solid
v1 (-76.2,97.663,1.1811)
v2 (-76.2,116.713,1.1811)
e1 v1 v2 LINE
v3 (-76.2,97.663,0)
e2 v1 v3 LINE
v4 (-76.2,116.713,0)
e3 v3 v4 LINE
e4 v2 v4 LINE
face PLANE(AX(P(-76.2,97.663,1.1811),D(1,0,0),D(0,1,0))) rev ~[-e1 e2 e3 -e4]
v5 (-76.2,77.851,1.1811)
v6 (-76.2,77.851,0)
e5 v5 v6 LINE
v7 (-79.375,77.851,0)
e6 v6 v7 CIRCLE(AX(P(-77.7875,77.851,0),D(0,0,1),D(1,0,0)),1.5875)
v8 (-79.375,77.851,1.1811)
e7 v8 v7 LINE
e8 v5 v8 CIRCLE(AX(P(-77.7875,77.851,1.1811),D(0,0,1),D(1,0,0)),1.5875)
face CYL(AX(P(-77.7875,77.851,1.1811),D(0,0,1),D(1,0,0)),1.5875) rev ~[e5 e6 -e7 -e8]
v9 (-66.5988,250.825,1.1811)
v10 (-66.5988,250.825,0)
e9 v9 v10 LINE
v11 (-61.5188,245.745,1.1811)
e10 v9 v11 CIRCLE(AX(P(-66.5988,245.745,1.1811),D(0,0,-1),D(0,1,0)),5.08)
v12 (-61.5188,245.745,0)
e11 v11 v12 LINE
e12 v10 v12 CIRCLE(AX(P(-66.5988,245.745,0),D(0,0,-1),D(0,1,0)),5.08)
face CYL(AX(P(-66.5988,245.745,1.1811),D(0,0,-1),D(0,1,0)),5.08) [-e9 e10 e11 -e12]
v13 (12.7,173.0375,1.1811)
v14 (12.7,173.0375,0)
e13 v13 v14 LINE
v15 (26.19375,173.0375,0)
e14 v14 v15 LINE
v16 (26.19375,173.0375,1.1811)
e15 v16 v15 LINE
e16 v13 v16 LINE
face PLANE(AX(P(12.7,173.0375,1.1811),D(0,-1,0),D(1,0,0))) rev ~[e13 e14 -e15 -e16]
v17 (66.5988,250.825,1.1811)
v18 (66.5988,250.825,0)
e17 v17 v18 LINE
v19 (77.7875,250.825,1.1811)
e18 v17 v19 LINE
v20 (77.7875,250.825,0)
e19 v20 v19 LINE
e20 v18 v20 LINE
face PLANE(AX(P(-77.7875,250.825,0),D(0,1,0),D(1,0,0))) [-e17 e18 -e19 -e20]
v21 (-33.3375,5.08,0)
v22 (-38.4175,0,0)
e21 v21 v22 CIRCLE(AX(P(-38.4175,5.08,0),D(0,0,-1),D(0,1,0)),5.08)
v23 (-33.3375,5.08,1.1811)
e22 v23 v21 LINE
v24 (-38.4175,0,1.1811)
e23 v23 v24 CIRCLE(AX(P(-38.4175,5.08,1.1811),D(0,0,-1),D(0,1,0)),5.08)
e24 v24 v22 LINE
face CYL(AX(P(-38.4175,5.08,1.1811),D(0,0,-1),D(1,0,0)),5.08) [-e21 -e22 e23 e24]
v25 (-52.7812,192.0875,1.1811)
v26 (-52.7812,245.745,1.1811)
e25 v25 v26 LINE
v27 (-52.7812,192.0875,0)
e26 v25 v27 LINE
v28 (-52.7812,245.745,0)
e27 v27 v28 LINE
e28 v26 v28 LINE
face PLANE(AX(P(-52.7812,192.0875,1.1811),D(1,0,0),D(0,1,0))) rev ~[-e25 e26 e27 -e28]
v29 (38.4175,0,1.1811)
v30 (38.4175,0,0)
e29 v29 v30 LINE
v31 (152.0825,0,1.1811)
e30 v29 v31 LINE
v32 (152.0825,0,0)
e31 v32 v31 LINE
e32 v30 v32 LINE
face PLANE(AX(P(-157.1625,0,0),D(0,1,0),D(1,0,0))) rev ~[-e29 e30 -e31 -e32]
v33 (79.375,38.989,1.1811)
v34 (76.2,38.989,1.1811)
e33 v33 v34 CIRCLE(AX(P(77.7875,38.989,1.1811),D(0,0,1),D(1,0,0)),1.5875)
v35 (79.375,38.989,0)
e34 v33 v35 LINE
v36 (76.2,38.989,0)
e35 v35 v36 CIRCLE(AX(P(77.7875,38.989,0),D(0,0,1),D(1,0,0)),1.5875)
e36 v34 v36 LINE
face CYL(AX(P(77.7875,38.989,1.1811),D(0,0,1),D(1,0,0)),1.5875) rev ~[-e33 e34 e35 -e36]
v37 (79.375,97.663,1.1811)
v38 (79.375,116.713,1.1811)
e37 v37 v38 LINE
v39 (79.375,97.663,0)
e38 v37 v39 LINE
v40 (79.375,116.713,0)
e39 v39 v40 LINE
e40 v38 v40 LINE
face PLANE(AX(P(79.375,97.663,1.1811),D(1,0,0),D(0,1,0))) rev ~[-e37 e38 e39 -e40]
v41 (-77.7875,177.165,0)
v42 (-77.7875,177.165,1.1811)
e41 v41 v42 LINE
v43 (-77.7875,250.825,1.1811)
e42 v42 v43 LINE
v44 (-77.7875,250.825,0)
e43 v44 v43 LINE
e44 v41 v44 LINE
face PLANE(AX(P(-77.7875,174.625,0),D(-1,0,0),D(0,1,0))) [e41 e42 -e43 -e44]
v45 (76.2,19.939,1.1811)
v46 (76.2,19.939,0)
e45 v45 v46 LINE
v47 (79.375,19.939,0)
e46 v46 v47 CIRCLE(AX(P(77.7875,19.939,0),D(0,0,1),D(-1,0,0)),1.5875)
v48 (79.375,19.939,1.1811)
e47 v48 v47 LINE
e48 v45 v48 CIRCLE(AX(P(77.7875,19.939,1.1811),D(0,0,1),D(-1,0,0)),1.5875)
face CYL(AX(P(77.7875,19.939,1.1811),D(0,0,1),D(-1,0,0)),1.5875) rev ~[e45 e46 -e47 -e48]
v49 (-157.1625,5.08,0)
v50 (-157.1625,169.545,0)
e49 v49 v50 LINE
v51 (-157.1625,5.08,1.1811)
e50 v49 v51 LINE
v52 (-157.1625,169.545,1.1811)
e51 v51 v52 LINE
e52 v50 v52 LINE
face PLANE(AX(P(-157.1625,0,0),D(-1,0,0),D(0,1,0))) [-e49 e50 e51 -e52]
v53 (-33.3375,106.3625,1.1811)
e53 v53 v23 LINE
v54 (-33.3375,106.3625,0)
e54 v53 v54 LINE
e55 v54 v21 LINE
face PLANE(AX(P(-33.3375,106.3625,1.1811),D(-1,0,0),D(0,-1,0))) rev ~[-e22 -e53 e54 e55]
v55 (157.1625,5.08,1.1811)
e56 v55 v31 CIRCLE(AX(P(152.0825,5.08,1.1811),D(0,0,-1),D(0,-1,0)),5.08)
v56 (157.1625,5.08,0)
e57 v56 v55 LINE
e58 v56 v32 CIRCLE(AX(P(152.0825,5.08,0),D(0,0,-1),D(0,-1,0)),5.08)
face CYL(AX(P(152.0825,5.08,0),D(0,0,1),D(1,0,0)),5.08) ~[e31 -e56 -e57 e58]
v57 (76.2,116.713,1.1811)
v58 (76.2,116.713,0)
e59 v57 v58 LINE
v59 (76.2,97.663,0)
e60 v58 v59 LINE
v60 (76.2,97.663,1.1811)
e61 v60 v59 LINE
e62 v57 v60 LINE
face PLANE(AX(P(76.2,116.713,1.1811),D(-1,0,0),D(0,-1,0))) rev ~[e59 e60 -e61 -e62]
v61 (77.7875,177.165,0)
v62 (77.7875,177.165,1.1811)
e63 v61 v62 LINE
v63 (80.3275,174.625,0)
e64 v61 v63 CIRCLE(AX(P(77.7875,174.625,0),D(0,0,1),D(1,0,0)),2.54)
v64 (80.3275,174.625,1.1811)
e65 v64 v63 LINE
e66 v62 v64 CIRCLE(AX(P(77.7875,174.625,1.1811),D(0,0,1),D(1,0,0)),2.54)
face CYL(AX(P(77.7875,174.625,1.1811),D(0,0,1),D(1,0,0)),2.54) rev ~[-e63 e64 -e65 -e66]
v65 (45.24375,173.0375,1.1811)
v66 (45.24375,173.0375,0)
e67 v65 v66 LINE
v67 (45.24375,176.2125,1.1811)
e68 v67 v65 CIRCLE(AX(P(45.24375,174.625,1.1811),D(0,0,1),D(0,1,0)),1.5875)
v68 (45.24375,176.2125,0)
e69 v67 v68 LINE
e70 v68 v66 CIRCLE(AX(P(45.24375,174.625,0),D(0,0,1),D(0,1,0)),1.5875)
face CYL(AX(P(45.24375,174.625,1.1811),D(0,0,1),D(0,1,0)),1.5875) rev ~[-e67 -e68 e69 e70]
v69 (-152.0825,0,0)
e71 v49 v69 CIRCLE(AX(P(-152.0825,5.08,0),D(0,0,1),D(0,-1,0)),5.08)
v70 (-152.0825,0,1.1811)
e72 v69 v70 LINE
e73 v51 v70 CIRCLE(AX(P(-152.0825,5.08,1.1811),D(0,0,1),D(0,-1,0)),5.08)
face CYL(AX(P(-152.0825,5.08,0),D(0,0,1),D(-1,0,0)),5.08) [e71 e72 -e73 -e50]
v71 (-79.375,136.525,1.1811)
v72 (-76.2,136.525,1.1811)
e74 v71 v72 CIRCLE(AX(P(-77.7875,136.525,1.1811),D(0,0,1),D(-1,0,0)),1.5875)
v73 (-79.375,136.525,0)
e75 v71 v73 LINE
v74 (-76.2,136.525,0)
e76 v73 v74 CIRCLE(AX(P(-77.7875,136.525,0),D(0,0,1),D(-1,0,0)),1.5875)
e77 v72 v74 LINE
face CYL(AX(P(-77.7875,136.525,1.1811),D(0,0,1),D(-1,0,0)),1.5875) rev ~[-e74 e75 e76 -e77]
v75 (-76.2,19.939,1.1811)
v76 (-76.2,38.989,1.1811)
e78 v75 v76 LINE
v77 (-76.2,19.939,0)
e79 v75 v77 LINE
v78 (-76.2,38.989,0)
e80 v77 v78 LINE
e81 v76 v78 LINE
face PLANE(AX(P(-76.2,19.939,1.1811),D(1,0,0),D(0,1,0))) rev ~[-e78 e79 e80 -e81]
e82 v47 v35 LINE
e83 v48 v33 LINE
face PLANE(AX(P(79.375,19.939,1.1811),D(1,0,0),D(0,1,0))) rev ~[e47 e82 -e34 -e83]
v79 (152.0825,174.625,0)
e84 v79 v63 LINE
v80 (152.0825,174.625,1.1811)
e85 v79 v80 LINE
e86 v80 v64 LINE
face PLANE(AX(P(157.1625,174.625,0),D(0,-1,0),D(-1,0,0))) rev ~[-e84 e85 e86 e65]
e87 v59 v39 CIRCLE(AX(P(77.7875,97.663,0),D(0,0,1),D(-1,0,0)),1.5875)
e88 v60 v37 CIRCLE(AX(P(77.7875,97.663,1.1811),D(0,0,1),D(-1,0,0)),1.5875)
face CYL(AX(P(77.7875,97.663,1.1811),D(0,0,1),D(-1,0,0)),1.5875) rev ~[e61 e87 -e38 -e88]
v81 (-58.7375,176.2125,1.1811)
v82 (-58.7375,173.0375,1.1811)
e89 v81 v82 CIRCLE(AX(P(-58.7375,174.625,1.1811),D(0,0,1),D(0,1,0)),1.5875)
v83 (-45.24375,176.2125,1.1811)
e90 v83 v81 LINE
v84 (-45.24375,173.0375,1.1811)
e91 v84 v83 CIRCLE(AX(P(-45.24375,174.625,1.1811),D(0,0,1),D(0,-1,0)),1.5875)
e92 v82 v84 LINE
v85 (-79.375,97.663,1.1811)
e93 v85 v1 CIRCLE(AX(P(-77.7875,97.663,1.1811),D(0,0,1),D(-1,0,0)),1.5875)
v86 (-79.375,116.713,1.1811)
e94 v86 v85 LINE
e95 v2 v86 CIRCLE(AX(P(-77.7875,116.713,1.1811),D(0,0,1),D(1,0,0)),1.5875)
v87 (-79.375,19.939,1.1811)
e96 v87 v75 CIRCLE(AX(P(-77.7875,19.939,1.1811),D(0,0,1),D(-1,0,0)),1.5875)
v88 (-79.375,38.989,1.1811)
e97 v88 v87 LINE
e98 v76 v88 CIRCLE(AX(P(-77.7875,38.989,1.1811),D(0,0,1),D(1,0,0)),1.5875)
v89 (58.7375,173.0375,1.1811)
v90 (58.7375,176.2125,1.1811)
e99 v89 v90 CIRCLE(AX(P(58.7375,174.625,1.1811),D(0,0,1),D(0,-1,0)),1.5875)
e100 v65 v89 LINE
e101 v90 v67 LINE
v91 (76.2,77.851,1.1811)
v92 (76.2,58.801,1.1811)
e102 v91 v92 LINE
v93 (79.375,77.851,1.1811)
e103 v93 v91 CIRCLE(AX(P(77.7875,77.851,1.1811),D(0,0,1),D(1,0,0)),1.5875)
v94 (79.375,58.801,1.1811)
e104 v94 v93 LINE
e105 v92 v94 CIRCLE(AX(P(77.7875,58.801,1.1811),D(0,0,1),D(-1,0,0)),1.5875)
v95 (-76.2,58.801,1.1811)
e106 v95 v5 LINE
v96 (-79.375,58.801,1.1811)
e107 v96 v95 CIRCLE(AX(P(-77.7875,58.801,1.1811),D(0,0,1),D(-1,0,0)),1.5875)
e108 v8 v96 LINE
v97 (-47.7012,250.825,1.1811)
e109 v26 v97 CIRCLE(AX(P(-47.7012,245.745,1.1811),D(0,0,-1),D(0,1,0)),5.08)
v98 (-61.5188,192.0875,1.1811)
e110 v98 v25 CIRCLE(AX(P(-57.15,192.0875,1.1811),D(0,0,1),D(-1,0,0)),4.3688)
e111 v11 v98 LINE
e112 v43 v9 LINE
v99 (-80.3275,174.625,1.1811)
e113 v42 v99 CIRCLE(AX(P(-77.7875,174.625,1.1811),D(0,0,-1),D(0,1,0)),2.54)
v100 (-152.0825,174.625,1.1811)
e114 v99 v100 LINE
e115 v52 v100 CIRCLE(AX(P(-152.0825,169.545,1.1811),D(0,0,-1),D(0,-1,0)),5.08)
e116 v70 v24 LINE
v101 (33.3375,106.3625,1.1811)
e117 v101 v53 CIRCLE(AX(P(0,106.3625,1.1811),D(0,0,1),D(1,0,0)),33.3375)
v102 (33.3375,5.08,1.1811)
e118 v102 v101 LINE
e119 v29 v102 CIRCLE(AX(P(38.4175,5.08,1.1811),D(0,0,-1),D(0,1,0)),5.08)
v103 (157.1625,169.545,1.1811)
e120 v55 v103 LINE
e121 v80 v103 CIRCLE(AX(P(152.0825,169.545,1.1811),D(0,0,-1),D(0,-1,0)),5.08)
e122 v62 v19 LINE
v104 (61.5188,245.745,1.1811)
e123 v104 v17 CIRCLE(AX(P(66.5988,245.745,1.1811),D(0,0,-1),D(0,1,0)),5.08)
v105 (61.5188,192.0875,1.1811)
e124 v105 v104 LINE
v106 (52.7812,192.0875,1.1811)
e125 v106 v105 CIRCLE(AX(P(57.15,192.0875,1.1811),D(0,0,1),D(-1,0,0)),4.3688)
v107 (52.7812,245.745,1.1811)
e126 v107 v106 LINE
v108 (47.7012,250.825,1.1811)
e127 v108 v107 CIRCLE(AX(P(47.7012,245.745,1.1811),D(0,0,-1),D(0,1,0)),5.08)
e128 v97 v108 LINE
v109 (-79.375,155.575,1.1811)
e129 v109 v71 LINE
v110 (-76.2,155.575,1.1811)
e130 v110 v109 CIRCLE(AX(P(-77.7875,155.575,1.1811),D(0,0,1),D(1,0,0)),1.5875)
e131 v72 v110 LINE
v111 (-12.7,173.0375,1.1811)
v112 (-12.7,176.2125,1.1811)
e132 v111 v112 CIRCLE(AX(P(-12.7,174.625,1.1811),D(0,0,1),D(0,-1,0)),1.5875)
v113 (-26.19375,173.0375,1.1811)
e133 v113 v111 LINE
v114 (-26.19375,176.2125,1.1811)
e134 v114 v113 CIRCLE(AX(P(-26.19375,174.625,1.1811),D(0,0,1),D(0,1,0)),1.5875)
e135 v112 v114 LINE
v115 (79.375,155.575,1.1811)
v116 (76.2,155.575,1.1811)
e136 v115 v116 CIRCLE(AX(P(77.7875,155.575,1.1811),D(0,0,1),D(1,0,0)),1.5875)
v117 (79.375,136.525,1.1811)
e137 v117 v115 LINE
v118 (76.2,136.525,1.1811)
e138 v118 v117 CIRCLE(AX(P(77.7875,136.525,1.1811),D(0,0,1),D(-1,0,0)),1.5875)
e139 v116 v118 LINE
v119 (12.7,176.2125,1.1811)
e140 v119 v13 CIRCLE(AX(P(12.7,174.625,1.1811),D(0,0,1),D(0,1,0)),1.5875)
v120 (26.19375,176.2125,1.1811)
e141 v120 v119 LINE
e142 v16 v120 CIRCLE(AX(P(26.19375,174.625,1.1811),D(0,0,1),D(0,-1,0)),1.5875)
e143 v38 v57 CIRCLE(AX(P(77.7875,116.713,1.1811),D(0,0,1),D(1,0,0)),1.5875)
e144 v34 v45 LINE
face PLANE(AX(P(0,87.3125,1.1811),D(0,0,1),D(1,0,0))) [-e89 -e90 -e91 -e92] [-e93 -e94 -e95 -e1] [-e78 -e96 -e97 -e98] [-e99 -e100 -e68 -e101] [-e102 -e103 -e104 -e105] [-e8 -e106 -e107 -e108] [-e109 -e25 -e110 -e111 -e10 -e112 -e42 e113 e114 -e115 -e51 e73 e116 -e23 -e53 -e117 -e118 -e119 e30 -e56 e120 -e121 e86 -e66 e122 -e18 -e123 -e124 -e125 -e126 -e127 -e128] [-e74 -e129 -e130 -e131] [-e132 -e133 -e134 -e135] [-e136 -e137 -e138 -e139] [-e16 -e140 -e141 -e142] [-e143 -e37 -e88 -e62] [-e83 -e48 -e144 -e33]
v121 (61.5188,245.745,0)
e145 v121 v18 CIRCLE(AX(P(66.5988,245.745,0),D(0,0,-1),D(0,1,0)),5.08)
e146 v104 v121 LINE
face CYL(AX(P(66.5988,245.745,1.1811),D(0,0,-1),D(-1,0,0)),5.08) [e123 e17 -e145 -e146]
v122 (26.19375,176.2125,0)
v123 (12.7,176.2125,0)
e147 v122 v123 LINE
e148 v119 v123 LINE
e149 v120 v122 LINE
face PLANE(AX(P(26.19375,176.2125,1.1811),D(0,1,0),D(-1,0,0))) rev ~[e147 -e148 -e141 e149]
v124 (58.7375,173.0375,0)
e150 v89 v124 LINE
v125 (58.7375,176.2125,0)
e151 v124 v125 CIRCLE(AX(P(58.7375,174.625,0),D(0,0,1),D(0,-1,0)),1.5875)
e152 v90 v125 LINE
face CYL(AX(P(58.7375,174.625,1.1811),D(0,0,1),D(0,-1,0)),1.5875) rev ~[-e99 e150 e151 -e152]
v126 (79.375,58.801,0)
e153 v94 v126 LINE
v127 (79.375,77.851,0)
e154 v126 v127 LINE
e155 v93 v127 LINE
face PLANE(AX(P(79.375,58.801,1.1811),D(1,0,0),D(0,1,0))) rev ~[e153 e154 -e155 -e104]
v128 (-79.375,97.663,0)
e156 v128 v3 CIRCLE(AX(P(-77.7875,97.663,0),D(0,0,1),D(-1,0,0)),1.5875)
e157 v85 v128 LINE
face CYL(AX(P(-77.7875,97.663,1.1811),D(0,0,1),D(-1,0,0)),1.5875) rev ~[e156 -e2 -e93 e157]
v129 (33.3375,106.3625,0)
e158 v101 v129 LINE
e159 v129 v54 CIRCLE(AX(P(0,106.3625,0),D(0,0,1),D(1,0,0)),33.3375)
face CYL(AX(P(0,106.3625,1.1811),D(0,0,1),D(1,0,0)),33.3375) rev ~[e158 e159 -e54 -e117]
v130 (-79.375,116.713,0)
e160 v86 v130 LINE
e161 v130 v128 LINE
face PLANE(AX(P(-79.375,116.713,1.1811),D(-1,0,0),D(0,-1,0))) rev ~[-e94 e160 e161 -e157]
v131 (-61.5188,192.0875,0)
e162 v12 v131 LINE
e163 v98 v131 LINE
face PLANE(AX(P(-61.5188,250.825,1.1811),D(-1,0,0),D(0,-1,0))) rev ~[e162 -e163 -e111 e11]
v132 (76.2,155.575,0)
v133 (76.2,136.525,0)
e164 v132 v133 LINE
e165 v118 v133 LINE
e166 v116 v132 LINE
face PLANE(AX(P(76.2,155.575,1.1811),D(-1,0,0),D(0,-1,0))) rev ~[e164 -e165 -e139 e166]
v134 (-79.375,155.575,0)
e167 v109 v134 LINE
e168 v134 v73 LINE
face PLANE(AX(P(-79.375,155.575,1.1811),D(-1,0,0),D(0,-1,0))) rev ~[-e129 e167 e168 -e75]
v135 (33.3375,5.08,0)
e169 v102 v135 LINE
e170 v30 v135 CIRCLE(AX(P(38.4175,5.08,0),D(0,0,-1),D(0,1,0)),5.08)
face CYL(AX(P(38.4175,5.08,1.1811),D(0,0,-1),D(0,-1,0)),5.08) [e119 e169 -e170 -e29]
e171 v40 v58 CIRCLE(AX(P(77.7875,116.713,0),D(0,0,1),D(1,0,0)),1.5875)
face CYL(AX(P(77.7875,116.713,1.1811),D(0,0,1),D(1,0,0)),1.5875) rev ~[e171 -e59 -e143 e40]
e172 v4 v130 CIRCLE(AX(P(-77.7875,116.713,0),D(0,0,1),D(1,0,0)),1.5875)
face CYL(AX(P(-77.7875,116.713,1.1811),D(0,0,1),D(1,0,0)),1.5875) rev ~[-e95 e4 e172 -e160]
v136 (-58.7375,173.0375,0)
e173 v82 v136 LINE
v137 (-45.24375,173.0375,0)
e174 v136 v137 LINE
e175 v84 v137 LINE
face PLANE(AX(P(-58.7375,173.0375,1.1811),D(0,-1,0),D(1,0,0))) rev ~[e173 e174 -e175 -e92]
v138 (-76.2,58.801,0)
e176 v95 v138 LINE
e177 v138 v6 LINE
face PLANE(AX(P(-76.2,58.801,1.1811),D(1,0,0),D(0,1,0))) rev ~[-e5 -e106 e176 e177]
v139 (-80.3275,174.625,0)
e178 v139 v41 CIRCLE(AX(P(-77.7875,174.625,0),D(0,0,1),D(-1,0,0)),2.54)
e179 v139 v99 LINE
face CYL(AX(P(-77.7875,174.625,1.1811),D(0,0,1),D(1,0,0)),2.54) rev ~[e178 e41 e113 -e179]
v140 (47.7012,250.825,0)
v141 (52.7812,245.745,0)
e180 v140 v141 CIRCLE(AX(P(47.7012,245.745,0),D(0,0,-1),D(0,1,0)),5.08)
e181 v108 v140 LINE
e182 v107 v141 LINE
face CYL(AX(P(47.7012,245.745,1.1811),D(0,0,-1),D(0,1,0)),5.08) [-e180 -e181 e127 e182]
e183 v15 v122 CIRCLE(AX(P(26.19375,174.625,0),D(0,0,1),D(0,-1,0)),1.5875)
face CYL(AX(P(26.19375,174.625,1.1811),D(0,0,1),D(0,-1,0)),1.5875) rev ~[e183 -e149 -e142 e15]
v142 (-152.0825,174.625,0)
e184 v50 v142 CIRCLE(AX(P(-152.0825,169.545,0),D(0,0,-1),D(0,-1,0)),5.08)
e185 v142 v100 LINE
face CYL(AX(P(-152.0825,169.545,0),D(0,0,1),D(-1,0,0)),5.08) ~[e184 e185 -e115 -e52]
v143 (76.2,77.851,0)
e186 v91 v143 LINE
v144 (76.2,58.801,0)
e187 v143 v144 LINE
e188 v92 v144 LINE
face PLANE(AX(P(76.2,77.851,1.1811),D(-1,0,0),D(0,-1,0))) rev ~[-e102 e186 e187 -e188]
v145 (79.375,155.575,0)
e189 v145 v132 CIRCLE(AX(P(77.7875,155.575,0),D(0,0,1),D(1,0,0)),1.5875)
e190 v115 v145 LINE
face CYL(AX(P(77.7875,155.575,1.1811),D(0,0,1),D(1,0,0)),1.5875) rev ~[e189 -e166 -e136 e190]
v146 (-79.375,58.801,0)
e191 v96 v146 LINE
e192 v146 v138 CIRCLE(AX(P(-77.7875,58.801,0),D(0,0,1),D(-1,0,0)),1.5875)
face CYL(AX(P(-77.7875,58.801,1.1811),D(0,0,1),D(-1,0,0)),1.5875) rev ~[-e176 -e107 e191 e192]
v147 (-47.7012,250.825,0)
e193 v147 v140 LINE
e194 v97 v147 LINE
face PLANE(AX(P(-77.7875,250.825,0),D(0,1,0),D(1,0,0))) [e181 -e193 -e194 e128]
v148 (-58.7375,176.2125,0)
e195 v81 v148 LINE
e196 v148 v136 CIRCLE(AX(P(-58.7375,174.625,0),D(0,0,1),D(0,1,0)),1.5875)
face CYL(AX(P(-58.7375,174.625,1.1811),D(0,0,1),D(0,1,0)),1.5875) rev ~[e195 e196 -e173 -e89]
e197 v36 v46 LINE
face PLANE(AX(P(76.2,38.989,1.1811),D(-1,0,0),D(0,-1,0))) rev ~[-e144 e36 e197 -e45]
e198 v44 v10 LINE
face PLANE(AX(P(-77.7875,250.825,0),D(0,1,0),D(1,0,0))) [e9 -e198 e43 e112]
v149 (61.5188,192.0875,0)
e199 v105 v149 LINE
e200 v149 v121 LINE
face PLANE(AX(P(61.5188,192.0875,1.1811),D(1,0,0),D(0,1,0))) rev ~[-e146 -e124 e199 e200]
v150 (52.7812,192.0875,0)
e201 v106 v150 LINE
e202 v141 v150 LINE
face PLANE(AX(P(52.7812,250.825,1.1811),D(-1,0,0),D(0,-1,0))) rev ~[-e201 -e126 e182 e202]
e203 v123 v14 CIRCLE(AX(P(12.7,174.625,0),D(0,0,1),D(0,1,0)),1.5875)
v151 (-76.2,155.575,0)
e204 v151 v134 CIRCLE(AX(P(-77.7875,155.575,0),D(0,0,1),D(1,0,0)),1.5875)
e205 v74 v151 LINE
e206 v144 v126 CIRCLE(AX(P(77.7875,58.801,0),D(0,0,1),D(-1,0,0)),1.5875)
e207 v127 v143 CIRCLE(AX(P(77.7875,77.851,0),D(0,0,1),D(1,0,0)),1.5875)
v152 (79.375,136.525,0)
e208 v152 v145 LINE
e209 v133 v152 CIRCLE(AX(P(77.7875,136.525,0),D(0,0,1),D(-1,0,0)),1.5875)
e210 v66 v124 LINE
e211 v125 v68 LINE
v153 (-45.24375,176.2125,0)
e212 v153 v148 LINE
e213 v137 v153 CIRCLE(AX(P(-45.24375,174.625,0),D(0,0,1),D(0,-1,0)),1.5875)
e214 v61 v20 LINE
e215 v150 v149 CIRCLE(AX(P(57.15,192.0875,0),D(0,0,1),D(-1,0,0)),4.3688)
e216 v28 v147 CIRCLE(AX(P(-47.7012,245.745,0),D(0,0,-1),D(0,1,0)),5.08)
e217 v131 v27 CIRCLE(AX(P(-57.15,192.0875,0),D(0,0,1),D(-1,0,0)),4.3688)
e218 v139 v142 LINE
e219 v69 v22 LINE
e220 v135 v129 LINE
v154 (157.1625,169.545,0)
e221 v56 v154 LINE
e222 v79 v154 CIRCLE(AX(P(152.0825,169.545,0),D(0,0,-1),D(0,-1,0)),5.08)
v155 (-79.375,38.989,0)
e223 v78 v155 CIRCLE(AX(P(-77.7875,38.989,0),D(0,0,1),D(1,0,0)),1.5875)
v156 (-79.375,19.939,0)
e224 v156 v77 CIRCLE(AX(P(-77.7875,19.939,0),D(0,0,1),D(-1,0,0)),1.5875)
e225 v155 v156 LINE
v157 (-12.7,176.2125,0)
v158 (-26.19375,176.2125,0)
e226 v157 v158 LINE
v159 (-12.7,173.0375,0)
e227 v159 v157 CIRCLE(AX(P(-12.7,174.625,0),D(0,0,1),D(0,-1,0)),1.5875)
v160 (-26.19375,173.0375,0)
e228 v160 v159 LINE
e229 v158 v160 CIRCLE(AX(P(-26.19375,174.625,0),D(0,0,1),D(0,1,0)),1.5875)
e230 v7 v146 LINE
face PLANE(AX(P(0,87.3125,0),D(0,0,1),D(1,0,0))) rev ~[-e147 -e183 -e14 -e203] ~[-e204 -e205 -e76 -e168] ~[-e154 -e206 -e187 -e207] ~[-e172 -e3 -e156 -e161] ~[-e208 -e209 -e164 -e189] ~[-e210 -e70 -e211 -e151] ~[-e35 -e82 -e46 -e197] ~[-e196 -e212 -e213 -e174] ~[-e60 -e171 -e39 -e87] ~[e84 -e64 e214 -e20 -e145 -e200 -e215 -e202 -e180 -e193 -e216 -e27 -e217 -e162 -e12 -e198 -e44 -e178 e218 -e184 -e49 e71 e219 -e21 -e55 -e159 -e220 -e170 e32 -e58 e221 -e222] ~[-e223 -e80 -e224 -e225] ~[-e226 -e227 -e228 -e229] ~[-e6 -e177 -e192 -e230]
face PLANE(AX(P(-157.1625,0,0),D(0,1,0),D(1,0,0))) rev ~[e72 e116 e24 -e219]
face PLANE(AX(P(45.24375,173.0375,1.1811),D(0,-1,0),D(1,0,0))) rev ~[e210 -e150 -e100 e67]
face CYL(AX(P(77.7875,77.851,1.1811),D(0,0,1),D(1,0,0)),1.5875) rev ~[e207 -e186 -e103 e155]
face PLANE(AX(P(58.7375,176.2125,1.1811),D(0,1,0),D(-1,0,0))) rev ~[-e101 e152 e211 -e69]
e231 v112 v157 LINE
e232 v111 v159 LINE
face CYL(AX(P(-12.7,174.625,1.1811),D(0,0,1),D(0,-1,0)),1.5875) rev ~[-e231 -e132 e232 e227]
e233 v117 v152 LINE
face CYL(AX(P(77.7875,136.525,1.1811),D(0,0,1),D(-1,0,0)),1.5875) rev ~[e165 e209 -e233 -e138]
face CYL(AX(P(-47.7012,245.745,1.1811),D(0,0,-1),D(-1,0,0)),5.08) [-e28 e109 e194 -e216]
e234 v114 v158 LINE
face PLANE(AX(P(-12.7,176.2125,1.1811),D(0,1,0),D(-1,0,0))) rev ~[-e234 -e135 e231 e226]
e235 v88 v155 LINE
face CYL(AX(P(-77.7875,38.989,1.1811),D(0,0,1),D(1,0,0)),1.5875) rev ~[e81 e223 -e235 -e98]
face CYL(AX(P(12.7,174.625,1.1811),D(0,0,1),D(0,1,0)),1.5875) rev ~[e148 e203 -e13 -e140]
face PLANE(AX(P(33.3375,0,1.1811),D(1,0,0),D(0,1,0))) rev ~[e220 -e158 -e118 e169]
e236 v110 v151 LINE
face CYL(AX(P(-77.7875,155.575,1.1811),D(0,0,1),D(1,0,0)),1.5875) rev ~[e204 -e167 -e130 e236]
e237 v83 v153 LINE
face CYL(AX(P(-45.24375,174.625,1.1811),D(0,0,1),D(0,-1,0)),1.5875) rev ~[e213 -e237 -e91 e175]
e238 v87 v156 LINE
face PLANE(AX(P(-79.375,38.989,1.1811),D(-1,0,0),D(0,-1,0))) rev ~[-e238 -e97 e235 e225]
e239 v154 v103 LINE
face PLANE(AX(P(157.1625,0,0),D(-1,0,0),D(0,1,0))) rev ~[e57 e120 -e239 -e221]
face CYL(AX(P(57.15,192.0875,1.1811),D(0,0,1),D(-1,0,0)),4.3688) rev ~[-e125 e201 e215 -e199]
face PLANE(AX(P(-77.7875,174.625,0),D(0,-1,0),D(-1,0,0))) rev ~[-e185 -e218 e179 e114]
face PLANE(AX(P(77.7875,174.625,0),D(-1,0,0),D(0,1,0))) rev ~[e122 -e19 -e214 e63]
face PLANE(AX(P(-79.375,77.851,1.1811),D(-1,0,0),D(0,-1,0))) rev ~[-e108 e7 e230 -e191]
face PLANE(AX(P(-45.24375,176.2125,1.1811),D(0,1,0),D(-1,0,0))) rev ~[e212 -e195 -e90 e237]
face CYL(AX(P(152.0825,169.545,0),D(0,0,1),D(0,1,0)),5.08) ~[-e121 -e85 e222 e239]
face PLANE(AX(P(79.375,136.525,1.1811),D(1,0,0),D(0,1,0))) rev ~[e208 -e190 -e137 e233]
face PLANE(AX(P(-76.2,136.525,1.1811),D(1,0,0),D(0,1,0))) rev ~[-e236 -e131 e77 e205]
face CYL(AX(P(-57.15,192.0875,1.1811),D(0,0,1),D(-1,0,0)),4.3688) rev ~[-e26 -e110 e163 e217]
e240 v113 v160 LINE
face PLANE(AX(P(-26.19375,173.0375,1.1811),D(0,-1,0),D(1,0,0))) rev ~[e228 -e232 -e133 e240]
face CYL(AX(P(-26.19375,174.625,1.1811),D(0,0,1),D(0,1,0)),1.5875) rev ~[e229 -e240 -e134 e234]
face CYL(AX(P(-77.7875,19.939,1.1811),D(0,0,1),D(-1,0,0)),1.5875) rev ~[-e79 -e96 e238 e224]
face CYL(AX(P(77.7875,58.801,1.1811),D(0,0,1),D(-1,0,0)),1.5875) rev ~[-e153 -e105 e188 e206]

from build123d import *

# Parameters (mm, degrees)
F0_W     = 155.575
F0_H     = 174.625
F0_W_2   = 79.375
F0_H_2   = 76.2
F1_DEPTH = 1.1811
F3_DEPTH = 1.1811
F4_R     = 2.54
F5_DEPTH = 1.1811
F6_R     = 5.08


with BuildPart() as f1:
    # F0 (on Top) → F1 (new body)
    with BuildSketch(Plane.XY):
        with Locations((0, 87.3125)):
            Rectangle(F0_W, F0_H)
        with Locations((-117.475, 87.3125)):
            Rectangle(F0_W_2, F0_H)
        with Locations((117.475, 87.3125)):
            Rectangle(F0_W_2, F0_H)
        with Locations((0, 212.725)):
            Rectangle(F0_W, F0_H_2)
    extrude(amount=F1_DEPTH)

    # F2 (on face) → F3 (cut, through all)
    with BuildSketch(Plane.XY.offset(1.1811)):
        with BuildLine():
            Line((33.3375, 0), (33.3375, 106.3625))
            ThreePointArc((33.3375, 106.3625), (0, 139.7), (-33.3375, 106.3625))
            Line((-33.3375, 106.3625), (-33.3375, 0))
            Line((-33.3375, 0), (33.3375, 0))
        make_face()
        with BuildLine():
            ThreePointArc((-52.7812, 250.825), (-57.15, 255.1938), (-61.5188, 250.825))
            Line((-61.5188, 250.825), (-61.5188, 192.0875))
            ThreePointArc((-61.5188, 192.0875), (-57.15, 187.7187), (-52.7812, 192.0875))
            Line((-52.7812, 192.0875), (-52.7812, 250.825))
        make_face()
        with BuildLine():
            ThreePointArc((61.5188, 250.825), (57.15, 255.1938), (52.7812, 250.825))
            Line((52.7812, 250.825), (52.7812, 192.0875))
            ThreePointArc((52.7812, 192.0875), (57.15, 187.7187), (61.5188, 192.0875))
            Line((61.5188, 192.0875), (61.5188, 250.825))
        make_face()
    extrude(amount=-F3_DEPTH, mode=Mode.SUBTRACT)

    # F4 (on face) → F5 (cut, through all)
    with BuildSketch(Plane.XY.offset(1.1811)):
        with BuildLine():
            ThreePointArc((-76.2, 155.575), (-77.7875, 157.1625), (-79.375, 155.575))
            Line((-79.375, 155.575), (-79.375, 136.525))
            ThreePointArc((-79.375, 136.525), (-77.7875, 134.9375), (-76.2, 136.525))
            Line((-76.2, 136.525), (-76.2, 155.575))
        make_face()
        with BuildLine():
            ThreePointArc((-76.2, 116.713), (-77.7875, 118.3005), (-79.375, 116.713))
            Line((-79.375, 116.713), (-79.375, 97.663))
            ThreePointArc((-79.375, 97.663), (-77.7875, 96.0755), (-76.2, 97.663))
            Line((-76.2, 97.663), (-76.2, 116.713))
        make_face()
        with BuildLine():
            ThreePointArc((-76.2, 77.851), (-77.7875, 79.4385), (-79.375, 77.851))
            Line((-79.375, 77.851), (-79.375, 58.801))
            ThreePointArc((-79.375, 58.801), (-77.7875, 57.2135), (-76.2, 58.801))
            Line((-76.2, 58.801), (-76.2, 77.851))
        make_face()
        with BuildLine():
            ThreePointArc((-76.2, 38.989), (-77.7875, 40.5765), (-79.375, 38.989))
            Line((-79.375, 38.989), (-79.375, 19.939))
            ThreePointArc((-79.375, 19.939), (-77.7875, 18.3515), (-76.2, 19.939))
            Line((-76.2, 19.939), (-76.2, 38.989))
        make_face()
        with BuildLine():
            Line((79.375, 136.525), (79.375, 155.575))
            ThreePointArc((79.375, 155.575), (77.7875, 157.1625), (76.2, 155.575))
            Line((76.2, 155.575), (76.2, 136.525))
            ThreePointArc((76.2, 136.525), (77.7875, 134.9375), (79.375, 136.525))
        make_face()
        with BuildLine():
            Line((79.375, 97.663), (79.375, 116.713))
            ThreePointArc((79.375, 116.713), (77.7875, 118.3005), (76.2, 116.713))
            Line((76.2, 116.713), (76.2, 97.663))
            ThreePointArc((76.2, 97.663), (77.7875, 96.0755), (79.375, 97.663))
        make_face()
        with BuildLine():
            Line((76.2, 77.851), (76.2, 58.801))
            ThreePointArc((76.2, 58.801), (77.7875, 57.2135), (79.375, 58.801))
            Line((79.375, 58.801), (79.375, 77.851))
            ThreePointArc((79.375, 77.851), (77.7875, 79.4385), (76.2, 77.851))
        make_face()
        with BuildLine():
            Line((79.375, 19.939), (79.375, 38.989))
            ThreePointArc((79.375, 38.989), (77.7875, 40.5765), (76.2, 38.989))
            Line((76.2, 38.989), (76.2, 19.939))
            ThreePointArc((76.2, 19.939), (77.7875, 18.3515), (79.375, 19.939))
        make_face()
        with BuildLine():
            ThreePointArc((-58.7375, 176.2125), (-60.325, 174.625), (-58.7375, 173.0375))
            Line((-58.7375, 173.0375), (-45.24375, 173.0375))
            ThreePointArc((-45.24375, 173.0375), (-43.65625, 174.625), (-45.24375, 176.2125))
            Line((-45.24375, 176.2125), (-58.7375, 176.2125))
        make_face()
        with BuildLine():
            ThreePointArc((-26.19375, 176.2125), (-27.78125, 174.625), (-26.19375, 173.0375))
            Line((-26.19375, 173.0375), (-12.7, 173.0375))
            ThreePointArc((-12.7, 173.0375), (-11.1125, 174.625), (-12.7, 176.2125))
            Line((-12.7, 176.2125), (-26.19375, 176.2125))
        make_face()
        with BuildLine():
            ThreePointArc((12.7, 176.2125), (11.1125, 174.625), (12.7, 173.0375))
            Line((12.7, 173.0375), (26.19375, 173.0375))
            ThreePointArc((26.19375, 173.0375), (27.78125, 174.625), (26.19375, 176.2125))
            Line((26.19375, 176.2125), (12.7, 176.2125))
        make_face()
        with BuildLine():
            ThreePointArc((45.24375, 176.2125), (43.65625, 174.625), (45.24375, 173.0375))
            Line((45.24375, 173.0375), (58.7375, 173.0375))
            ThreePointArc((58.7375, 173.0375), (60.325, 174.625), (58.7375, 176.2125))
            Line((58.7375, 176.2125), (45.24375, 176.2125))
        make_face()
        with Locations((-77.7875, 174.625)):
            Circle(F4_R)
        with Locations((77.7875, 174.625)):
            Circle(F4_R)
    extrude(amount=-F5_DEPTH, mode=Mode.SUBTRACT)

    # F6
    f6_edges = [f1.edges().sort_by_distance(p)[0] for p in [
        (-157.1625, 174.625, 0.59055),
        (-61.5188, 250.825, 0.59055),
        (-52.7812, 250.825, 0.59055),
        (52.7812, 250.825, 0.59055),
        (61.5188, 250.825, 0.59055),
        (157.1625, 174.625, 0.59055),
        (-157.1625, 0, 0.59055),
        (33.3375, 0, 0.59055),
        (-33.3375, 0, 0.59055),
        (157.1625, 0, 0.59055),
    ]]
    fillet(f6_edges, radius=F6_R)


solid = f1.part
